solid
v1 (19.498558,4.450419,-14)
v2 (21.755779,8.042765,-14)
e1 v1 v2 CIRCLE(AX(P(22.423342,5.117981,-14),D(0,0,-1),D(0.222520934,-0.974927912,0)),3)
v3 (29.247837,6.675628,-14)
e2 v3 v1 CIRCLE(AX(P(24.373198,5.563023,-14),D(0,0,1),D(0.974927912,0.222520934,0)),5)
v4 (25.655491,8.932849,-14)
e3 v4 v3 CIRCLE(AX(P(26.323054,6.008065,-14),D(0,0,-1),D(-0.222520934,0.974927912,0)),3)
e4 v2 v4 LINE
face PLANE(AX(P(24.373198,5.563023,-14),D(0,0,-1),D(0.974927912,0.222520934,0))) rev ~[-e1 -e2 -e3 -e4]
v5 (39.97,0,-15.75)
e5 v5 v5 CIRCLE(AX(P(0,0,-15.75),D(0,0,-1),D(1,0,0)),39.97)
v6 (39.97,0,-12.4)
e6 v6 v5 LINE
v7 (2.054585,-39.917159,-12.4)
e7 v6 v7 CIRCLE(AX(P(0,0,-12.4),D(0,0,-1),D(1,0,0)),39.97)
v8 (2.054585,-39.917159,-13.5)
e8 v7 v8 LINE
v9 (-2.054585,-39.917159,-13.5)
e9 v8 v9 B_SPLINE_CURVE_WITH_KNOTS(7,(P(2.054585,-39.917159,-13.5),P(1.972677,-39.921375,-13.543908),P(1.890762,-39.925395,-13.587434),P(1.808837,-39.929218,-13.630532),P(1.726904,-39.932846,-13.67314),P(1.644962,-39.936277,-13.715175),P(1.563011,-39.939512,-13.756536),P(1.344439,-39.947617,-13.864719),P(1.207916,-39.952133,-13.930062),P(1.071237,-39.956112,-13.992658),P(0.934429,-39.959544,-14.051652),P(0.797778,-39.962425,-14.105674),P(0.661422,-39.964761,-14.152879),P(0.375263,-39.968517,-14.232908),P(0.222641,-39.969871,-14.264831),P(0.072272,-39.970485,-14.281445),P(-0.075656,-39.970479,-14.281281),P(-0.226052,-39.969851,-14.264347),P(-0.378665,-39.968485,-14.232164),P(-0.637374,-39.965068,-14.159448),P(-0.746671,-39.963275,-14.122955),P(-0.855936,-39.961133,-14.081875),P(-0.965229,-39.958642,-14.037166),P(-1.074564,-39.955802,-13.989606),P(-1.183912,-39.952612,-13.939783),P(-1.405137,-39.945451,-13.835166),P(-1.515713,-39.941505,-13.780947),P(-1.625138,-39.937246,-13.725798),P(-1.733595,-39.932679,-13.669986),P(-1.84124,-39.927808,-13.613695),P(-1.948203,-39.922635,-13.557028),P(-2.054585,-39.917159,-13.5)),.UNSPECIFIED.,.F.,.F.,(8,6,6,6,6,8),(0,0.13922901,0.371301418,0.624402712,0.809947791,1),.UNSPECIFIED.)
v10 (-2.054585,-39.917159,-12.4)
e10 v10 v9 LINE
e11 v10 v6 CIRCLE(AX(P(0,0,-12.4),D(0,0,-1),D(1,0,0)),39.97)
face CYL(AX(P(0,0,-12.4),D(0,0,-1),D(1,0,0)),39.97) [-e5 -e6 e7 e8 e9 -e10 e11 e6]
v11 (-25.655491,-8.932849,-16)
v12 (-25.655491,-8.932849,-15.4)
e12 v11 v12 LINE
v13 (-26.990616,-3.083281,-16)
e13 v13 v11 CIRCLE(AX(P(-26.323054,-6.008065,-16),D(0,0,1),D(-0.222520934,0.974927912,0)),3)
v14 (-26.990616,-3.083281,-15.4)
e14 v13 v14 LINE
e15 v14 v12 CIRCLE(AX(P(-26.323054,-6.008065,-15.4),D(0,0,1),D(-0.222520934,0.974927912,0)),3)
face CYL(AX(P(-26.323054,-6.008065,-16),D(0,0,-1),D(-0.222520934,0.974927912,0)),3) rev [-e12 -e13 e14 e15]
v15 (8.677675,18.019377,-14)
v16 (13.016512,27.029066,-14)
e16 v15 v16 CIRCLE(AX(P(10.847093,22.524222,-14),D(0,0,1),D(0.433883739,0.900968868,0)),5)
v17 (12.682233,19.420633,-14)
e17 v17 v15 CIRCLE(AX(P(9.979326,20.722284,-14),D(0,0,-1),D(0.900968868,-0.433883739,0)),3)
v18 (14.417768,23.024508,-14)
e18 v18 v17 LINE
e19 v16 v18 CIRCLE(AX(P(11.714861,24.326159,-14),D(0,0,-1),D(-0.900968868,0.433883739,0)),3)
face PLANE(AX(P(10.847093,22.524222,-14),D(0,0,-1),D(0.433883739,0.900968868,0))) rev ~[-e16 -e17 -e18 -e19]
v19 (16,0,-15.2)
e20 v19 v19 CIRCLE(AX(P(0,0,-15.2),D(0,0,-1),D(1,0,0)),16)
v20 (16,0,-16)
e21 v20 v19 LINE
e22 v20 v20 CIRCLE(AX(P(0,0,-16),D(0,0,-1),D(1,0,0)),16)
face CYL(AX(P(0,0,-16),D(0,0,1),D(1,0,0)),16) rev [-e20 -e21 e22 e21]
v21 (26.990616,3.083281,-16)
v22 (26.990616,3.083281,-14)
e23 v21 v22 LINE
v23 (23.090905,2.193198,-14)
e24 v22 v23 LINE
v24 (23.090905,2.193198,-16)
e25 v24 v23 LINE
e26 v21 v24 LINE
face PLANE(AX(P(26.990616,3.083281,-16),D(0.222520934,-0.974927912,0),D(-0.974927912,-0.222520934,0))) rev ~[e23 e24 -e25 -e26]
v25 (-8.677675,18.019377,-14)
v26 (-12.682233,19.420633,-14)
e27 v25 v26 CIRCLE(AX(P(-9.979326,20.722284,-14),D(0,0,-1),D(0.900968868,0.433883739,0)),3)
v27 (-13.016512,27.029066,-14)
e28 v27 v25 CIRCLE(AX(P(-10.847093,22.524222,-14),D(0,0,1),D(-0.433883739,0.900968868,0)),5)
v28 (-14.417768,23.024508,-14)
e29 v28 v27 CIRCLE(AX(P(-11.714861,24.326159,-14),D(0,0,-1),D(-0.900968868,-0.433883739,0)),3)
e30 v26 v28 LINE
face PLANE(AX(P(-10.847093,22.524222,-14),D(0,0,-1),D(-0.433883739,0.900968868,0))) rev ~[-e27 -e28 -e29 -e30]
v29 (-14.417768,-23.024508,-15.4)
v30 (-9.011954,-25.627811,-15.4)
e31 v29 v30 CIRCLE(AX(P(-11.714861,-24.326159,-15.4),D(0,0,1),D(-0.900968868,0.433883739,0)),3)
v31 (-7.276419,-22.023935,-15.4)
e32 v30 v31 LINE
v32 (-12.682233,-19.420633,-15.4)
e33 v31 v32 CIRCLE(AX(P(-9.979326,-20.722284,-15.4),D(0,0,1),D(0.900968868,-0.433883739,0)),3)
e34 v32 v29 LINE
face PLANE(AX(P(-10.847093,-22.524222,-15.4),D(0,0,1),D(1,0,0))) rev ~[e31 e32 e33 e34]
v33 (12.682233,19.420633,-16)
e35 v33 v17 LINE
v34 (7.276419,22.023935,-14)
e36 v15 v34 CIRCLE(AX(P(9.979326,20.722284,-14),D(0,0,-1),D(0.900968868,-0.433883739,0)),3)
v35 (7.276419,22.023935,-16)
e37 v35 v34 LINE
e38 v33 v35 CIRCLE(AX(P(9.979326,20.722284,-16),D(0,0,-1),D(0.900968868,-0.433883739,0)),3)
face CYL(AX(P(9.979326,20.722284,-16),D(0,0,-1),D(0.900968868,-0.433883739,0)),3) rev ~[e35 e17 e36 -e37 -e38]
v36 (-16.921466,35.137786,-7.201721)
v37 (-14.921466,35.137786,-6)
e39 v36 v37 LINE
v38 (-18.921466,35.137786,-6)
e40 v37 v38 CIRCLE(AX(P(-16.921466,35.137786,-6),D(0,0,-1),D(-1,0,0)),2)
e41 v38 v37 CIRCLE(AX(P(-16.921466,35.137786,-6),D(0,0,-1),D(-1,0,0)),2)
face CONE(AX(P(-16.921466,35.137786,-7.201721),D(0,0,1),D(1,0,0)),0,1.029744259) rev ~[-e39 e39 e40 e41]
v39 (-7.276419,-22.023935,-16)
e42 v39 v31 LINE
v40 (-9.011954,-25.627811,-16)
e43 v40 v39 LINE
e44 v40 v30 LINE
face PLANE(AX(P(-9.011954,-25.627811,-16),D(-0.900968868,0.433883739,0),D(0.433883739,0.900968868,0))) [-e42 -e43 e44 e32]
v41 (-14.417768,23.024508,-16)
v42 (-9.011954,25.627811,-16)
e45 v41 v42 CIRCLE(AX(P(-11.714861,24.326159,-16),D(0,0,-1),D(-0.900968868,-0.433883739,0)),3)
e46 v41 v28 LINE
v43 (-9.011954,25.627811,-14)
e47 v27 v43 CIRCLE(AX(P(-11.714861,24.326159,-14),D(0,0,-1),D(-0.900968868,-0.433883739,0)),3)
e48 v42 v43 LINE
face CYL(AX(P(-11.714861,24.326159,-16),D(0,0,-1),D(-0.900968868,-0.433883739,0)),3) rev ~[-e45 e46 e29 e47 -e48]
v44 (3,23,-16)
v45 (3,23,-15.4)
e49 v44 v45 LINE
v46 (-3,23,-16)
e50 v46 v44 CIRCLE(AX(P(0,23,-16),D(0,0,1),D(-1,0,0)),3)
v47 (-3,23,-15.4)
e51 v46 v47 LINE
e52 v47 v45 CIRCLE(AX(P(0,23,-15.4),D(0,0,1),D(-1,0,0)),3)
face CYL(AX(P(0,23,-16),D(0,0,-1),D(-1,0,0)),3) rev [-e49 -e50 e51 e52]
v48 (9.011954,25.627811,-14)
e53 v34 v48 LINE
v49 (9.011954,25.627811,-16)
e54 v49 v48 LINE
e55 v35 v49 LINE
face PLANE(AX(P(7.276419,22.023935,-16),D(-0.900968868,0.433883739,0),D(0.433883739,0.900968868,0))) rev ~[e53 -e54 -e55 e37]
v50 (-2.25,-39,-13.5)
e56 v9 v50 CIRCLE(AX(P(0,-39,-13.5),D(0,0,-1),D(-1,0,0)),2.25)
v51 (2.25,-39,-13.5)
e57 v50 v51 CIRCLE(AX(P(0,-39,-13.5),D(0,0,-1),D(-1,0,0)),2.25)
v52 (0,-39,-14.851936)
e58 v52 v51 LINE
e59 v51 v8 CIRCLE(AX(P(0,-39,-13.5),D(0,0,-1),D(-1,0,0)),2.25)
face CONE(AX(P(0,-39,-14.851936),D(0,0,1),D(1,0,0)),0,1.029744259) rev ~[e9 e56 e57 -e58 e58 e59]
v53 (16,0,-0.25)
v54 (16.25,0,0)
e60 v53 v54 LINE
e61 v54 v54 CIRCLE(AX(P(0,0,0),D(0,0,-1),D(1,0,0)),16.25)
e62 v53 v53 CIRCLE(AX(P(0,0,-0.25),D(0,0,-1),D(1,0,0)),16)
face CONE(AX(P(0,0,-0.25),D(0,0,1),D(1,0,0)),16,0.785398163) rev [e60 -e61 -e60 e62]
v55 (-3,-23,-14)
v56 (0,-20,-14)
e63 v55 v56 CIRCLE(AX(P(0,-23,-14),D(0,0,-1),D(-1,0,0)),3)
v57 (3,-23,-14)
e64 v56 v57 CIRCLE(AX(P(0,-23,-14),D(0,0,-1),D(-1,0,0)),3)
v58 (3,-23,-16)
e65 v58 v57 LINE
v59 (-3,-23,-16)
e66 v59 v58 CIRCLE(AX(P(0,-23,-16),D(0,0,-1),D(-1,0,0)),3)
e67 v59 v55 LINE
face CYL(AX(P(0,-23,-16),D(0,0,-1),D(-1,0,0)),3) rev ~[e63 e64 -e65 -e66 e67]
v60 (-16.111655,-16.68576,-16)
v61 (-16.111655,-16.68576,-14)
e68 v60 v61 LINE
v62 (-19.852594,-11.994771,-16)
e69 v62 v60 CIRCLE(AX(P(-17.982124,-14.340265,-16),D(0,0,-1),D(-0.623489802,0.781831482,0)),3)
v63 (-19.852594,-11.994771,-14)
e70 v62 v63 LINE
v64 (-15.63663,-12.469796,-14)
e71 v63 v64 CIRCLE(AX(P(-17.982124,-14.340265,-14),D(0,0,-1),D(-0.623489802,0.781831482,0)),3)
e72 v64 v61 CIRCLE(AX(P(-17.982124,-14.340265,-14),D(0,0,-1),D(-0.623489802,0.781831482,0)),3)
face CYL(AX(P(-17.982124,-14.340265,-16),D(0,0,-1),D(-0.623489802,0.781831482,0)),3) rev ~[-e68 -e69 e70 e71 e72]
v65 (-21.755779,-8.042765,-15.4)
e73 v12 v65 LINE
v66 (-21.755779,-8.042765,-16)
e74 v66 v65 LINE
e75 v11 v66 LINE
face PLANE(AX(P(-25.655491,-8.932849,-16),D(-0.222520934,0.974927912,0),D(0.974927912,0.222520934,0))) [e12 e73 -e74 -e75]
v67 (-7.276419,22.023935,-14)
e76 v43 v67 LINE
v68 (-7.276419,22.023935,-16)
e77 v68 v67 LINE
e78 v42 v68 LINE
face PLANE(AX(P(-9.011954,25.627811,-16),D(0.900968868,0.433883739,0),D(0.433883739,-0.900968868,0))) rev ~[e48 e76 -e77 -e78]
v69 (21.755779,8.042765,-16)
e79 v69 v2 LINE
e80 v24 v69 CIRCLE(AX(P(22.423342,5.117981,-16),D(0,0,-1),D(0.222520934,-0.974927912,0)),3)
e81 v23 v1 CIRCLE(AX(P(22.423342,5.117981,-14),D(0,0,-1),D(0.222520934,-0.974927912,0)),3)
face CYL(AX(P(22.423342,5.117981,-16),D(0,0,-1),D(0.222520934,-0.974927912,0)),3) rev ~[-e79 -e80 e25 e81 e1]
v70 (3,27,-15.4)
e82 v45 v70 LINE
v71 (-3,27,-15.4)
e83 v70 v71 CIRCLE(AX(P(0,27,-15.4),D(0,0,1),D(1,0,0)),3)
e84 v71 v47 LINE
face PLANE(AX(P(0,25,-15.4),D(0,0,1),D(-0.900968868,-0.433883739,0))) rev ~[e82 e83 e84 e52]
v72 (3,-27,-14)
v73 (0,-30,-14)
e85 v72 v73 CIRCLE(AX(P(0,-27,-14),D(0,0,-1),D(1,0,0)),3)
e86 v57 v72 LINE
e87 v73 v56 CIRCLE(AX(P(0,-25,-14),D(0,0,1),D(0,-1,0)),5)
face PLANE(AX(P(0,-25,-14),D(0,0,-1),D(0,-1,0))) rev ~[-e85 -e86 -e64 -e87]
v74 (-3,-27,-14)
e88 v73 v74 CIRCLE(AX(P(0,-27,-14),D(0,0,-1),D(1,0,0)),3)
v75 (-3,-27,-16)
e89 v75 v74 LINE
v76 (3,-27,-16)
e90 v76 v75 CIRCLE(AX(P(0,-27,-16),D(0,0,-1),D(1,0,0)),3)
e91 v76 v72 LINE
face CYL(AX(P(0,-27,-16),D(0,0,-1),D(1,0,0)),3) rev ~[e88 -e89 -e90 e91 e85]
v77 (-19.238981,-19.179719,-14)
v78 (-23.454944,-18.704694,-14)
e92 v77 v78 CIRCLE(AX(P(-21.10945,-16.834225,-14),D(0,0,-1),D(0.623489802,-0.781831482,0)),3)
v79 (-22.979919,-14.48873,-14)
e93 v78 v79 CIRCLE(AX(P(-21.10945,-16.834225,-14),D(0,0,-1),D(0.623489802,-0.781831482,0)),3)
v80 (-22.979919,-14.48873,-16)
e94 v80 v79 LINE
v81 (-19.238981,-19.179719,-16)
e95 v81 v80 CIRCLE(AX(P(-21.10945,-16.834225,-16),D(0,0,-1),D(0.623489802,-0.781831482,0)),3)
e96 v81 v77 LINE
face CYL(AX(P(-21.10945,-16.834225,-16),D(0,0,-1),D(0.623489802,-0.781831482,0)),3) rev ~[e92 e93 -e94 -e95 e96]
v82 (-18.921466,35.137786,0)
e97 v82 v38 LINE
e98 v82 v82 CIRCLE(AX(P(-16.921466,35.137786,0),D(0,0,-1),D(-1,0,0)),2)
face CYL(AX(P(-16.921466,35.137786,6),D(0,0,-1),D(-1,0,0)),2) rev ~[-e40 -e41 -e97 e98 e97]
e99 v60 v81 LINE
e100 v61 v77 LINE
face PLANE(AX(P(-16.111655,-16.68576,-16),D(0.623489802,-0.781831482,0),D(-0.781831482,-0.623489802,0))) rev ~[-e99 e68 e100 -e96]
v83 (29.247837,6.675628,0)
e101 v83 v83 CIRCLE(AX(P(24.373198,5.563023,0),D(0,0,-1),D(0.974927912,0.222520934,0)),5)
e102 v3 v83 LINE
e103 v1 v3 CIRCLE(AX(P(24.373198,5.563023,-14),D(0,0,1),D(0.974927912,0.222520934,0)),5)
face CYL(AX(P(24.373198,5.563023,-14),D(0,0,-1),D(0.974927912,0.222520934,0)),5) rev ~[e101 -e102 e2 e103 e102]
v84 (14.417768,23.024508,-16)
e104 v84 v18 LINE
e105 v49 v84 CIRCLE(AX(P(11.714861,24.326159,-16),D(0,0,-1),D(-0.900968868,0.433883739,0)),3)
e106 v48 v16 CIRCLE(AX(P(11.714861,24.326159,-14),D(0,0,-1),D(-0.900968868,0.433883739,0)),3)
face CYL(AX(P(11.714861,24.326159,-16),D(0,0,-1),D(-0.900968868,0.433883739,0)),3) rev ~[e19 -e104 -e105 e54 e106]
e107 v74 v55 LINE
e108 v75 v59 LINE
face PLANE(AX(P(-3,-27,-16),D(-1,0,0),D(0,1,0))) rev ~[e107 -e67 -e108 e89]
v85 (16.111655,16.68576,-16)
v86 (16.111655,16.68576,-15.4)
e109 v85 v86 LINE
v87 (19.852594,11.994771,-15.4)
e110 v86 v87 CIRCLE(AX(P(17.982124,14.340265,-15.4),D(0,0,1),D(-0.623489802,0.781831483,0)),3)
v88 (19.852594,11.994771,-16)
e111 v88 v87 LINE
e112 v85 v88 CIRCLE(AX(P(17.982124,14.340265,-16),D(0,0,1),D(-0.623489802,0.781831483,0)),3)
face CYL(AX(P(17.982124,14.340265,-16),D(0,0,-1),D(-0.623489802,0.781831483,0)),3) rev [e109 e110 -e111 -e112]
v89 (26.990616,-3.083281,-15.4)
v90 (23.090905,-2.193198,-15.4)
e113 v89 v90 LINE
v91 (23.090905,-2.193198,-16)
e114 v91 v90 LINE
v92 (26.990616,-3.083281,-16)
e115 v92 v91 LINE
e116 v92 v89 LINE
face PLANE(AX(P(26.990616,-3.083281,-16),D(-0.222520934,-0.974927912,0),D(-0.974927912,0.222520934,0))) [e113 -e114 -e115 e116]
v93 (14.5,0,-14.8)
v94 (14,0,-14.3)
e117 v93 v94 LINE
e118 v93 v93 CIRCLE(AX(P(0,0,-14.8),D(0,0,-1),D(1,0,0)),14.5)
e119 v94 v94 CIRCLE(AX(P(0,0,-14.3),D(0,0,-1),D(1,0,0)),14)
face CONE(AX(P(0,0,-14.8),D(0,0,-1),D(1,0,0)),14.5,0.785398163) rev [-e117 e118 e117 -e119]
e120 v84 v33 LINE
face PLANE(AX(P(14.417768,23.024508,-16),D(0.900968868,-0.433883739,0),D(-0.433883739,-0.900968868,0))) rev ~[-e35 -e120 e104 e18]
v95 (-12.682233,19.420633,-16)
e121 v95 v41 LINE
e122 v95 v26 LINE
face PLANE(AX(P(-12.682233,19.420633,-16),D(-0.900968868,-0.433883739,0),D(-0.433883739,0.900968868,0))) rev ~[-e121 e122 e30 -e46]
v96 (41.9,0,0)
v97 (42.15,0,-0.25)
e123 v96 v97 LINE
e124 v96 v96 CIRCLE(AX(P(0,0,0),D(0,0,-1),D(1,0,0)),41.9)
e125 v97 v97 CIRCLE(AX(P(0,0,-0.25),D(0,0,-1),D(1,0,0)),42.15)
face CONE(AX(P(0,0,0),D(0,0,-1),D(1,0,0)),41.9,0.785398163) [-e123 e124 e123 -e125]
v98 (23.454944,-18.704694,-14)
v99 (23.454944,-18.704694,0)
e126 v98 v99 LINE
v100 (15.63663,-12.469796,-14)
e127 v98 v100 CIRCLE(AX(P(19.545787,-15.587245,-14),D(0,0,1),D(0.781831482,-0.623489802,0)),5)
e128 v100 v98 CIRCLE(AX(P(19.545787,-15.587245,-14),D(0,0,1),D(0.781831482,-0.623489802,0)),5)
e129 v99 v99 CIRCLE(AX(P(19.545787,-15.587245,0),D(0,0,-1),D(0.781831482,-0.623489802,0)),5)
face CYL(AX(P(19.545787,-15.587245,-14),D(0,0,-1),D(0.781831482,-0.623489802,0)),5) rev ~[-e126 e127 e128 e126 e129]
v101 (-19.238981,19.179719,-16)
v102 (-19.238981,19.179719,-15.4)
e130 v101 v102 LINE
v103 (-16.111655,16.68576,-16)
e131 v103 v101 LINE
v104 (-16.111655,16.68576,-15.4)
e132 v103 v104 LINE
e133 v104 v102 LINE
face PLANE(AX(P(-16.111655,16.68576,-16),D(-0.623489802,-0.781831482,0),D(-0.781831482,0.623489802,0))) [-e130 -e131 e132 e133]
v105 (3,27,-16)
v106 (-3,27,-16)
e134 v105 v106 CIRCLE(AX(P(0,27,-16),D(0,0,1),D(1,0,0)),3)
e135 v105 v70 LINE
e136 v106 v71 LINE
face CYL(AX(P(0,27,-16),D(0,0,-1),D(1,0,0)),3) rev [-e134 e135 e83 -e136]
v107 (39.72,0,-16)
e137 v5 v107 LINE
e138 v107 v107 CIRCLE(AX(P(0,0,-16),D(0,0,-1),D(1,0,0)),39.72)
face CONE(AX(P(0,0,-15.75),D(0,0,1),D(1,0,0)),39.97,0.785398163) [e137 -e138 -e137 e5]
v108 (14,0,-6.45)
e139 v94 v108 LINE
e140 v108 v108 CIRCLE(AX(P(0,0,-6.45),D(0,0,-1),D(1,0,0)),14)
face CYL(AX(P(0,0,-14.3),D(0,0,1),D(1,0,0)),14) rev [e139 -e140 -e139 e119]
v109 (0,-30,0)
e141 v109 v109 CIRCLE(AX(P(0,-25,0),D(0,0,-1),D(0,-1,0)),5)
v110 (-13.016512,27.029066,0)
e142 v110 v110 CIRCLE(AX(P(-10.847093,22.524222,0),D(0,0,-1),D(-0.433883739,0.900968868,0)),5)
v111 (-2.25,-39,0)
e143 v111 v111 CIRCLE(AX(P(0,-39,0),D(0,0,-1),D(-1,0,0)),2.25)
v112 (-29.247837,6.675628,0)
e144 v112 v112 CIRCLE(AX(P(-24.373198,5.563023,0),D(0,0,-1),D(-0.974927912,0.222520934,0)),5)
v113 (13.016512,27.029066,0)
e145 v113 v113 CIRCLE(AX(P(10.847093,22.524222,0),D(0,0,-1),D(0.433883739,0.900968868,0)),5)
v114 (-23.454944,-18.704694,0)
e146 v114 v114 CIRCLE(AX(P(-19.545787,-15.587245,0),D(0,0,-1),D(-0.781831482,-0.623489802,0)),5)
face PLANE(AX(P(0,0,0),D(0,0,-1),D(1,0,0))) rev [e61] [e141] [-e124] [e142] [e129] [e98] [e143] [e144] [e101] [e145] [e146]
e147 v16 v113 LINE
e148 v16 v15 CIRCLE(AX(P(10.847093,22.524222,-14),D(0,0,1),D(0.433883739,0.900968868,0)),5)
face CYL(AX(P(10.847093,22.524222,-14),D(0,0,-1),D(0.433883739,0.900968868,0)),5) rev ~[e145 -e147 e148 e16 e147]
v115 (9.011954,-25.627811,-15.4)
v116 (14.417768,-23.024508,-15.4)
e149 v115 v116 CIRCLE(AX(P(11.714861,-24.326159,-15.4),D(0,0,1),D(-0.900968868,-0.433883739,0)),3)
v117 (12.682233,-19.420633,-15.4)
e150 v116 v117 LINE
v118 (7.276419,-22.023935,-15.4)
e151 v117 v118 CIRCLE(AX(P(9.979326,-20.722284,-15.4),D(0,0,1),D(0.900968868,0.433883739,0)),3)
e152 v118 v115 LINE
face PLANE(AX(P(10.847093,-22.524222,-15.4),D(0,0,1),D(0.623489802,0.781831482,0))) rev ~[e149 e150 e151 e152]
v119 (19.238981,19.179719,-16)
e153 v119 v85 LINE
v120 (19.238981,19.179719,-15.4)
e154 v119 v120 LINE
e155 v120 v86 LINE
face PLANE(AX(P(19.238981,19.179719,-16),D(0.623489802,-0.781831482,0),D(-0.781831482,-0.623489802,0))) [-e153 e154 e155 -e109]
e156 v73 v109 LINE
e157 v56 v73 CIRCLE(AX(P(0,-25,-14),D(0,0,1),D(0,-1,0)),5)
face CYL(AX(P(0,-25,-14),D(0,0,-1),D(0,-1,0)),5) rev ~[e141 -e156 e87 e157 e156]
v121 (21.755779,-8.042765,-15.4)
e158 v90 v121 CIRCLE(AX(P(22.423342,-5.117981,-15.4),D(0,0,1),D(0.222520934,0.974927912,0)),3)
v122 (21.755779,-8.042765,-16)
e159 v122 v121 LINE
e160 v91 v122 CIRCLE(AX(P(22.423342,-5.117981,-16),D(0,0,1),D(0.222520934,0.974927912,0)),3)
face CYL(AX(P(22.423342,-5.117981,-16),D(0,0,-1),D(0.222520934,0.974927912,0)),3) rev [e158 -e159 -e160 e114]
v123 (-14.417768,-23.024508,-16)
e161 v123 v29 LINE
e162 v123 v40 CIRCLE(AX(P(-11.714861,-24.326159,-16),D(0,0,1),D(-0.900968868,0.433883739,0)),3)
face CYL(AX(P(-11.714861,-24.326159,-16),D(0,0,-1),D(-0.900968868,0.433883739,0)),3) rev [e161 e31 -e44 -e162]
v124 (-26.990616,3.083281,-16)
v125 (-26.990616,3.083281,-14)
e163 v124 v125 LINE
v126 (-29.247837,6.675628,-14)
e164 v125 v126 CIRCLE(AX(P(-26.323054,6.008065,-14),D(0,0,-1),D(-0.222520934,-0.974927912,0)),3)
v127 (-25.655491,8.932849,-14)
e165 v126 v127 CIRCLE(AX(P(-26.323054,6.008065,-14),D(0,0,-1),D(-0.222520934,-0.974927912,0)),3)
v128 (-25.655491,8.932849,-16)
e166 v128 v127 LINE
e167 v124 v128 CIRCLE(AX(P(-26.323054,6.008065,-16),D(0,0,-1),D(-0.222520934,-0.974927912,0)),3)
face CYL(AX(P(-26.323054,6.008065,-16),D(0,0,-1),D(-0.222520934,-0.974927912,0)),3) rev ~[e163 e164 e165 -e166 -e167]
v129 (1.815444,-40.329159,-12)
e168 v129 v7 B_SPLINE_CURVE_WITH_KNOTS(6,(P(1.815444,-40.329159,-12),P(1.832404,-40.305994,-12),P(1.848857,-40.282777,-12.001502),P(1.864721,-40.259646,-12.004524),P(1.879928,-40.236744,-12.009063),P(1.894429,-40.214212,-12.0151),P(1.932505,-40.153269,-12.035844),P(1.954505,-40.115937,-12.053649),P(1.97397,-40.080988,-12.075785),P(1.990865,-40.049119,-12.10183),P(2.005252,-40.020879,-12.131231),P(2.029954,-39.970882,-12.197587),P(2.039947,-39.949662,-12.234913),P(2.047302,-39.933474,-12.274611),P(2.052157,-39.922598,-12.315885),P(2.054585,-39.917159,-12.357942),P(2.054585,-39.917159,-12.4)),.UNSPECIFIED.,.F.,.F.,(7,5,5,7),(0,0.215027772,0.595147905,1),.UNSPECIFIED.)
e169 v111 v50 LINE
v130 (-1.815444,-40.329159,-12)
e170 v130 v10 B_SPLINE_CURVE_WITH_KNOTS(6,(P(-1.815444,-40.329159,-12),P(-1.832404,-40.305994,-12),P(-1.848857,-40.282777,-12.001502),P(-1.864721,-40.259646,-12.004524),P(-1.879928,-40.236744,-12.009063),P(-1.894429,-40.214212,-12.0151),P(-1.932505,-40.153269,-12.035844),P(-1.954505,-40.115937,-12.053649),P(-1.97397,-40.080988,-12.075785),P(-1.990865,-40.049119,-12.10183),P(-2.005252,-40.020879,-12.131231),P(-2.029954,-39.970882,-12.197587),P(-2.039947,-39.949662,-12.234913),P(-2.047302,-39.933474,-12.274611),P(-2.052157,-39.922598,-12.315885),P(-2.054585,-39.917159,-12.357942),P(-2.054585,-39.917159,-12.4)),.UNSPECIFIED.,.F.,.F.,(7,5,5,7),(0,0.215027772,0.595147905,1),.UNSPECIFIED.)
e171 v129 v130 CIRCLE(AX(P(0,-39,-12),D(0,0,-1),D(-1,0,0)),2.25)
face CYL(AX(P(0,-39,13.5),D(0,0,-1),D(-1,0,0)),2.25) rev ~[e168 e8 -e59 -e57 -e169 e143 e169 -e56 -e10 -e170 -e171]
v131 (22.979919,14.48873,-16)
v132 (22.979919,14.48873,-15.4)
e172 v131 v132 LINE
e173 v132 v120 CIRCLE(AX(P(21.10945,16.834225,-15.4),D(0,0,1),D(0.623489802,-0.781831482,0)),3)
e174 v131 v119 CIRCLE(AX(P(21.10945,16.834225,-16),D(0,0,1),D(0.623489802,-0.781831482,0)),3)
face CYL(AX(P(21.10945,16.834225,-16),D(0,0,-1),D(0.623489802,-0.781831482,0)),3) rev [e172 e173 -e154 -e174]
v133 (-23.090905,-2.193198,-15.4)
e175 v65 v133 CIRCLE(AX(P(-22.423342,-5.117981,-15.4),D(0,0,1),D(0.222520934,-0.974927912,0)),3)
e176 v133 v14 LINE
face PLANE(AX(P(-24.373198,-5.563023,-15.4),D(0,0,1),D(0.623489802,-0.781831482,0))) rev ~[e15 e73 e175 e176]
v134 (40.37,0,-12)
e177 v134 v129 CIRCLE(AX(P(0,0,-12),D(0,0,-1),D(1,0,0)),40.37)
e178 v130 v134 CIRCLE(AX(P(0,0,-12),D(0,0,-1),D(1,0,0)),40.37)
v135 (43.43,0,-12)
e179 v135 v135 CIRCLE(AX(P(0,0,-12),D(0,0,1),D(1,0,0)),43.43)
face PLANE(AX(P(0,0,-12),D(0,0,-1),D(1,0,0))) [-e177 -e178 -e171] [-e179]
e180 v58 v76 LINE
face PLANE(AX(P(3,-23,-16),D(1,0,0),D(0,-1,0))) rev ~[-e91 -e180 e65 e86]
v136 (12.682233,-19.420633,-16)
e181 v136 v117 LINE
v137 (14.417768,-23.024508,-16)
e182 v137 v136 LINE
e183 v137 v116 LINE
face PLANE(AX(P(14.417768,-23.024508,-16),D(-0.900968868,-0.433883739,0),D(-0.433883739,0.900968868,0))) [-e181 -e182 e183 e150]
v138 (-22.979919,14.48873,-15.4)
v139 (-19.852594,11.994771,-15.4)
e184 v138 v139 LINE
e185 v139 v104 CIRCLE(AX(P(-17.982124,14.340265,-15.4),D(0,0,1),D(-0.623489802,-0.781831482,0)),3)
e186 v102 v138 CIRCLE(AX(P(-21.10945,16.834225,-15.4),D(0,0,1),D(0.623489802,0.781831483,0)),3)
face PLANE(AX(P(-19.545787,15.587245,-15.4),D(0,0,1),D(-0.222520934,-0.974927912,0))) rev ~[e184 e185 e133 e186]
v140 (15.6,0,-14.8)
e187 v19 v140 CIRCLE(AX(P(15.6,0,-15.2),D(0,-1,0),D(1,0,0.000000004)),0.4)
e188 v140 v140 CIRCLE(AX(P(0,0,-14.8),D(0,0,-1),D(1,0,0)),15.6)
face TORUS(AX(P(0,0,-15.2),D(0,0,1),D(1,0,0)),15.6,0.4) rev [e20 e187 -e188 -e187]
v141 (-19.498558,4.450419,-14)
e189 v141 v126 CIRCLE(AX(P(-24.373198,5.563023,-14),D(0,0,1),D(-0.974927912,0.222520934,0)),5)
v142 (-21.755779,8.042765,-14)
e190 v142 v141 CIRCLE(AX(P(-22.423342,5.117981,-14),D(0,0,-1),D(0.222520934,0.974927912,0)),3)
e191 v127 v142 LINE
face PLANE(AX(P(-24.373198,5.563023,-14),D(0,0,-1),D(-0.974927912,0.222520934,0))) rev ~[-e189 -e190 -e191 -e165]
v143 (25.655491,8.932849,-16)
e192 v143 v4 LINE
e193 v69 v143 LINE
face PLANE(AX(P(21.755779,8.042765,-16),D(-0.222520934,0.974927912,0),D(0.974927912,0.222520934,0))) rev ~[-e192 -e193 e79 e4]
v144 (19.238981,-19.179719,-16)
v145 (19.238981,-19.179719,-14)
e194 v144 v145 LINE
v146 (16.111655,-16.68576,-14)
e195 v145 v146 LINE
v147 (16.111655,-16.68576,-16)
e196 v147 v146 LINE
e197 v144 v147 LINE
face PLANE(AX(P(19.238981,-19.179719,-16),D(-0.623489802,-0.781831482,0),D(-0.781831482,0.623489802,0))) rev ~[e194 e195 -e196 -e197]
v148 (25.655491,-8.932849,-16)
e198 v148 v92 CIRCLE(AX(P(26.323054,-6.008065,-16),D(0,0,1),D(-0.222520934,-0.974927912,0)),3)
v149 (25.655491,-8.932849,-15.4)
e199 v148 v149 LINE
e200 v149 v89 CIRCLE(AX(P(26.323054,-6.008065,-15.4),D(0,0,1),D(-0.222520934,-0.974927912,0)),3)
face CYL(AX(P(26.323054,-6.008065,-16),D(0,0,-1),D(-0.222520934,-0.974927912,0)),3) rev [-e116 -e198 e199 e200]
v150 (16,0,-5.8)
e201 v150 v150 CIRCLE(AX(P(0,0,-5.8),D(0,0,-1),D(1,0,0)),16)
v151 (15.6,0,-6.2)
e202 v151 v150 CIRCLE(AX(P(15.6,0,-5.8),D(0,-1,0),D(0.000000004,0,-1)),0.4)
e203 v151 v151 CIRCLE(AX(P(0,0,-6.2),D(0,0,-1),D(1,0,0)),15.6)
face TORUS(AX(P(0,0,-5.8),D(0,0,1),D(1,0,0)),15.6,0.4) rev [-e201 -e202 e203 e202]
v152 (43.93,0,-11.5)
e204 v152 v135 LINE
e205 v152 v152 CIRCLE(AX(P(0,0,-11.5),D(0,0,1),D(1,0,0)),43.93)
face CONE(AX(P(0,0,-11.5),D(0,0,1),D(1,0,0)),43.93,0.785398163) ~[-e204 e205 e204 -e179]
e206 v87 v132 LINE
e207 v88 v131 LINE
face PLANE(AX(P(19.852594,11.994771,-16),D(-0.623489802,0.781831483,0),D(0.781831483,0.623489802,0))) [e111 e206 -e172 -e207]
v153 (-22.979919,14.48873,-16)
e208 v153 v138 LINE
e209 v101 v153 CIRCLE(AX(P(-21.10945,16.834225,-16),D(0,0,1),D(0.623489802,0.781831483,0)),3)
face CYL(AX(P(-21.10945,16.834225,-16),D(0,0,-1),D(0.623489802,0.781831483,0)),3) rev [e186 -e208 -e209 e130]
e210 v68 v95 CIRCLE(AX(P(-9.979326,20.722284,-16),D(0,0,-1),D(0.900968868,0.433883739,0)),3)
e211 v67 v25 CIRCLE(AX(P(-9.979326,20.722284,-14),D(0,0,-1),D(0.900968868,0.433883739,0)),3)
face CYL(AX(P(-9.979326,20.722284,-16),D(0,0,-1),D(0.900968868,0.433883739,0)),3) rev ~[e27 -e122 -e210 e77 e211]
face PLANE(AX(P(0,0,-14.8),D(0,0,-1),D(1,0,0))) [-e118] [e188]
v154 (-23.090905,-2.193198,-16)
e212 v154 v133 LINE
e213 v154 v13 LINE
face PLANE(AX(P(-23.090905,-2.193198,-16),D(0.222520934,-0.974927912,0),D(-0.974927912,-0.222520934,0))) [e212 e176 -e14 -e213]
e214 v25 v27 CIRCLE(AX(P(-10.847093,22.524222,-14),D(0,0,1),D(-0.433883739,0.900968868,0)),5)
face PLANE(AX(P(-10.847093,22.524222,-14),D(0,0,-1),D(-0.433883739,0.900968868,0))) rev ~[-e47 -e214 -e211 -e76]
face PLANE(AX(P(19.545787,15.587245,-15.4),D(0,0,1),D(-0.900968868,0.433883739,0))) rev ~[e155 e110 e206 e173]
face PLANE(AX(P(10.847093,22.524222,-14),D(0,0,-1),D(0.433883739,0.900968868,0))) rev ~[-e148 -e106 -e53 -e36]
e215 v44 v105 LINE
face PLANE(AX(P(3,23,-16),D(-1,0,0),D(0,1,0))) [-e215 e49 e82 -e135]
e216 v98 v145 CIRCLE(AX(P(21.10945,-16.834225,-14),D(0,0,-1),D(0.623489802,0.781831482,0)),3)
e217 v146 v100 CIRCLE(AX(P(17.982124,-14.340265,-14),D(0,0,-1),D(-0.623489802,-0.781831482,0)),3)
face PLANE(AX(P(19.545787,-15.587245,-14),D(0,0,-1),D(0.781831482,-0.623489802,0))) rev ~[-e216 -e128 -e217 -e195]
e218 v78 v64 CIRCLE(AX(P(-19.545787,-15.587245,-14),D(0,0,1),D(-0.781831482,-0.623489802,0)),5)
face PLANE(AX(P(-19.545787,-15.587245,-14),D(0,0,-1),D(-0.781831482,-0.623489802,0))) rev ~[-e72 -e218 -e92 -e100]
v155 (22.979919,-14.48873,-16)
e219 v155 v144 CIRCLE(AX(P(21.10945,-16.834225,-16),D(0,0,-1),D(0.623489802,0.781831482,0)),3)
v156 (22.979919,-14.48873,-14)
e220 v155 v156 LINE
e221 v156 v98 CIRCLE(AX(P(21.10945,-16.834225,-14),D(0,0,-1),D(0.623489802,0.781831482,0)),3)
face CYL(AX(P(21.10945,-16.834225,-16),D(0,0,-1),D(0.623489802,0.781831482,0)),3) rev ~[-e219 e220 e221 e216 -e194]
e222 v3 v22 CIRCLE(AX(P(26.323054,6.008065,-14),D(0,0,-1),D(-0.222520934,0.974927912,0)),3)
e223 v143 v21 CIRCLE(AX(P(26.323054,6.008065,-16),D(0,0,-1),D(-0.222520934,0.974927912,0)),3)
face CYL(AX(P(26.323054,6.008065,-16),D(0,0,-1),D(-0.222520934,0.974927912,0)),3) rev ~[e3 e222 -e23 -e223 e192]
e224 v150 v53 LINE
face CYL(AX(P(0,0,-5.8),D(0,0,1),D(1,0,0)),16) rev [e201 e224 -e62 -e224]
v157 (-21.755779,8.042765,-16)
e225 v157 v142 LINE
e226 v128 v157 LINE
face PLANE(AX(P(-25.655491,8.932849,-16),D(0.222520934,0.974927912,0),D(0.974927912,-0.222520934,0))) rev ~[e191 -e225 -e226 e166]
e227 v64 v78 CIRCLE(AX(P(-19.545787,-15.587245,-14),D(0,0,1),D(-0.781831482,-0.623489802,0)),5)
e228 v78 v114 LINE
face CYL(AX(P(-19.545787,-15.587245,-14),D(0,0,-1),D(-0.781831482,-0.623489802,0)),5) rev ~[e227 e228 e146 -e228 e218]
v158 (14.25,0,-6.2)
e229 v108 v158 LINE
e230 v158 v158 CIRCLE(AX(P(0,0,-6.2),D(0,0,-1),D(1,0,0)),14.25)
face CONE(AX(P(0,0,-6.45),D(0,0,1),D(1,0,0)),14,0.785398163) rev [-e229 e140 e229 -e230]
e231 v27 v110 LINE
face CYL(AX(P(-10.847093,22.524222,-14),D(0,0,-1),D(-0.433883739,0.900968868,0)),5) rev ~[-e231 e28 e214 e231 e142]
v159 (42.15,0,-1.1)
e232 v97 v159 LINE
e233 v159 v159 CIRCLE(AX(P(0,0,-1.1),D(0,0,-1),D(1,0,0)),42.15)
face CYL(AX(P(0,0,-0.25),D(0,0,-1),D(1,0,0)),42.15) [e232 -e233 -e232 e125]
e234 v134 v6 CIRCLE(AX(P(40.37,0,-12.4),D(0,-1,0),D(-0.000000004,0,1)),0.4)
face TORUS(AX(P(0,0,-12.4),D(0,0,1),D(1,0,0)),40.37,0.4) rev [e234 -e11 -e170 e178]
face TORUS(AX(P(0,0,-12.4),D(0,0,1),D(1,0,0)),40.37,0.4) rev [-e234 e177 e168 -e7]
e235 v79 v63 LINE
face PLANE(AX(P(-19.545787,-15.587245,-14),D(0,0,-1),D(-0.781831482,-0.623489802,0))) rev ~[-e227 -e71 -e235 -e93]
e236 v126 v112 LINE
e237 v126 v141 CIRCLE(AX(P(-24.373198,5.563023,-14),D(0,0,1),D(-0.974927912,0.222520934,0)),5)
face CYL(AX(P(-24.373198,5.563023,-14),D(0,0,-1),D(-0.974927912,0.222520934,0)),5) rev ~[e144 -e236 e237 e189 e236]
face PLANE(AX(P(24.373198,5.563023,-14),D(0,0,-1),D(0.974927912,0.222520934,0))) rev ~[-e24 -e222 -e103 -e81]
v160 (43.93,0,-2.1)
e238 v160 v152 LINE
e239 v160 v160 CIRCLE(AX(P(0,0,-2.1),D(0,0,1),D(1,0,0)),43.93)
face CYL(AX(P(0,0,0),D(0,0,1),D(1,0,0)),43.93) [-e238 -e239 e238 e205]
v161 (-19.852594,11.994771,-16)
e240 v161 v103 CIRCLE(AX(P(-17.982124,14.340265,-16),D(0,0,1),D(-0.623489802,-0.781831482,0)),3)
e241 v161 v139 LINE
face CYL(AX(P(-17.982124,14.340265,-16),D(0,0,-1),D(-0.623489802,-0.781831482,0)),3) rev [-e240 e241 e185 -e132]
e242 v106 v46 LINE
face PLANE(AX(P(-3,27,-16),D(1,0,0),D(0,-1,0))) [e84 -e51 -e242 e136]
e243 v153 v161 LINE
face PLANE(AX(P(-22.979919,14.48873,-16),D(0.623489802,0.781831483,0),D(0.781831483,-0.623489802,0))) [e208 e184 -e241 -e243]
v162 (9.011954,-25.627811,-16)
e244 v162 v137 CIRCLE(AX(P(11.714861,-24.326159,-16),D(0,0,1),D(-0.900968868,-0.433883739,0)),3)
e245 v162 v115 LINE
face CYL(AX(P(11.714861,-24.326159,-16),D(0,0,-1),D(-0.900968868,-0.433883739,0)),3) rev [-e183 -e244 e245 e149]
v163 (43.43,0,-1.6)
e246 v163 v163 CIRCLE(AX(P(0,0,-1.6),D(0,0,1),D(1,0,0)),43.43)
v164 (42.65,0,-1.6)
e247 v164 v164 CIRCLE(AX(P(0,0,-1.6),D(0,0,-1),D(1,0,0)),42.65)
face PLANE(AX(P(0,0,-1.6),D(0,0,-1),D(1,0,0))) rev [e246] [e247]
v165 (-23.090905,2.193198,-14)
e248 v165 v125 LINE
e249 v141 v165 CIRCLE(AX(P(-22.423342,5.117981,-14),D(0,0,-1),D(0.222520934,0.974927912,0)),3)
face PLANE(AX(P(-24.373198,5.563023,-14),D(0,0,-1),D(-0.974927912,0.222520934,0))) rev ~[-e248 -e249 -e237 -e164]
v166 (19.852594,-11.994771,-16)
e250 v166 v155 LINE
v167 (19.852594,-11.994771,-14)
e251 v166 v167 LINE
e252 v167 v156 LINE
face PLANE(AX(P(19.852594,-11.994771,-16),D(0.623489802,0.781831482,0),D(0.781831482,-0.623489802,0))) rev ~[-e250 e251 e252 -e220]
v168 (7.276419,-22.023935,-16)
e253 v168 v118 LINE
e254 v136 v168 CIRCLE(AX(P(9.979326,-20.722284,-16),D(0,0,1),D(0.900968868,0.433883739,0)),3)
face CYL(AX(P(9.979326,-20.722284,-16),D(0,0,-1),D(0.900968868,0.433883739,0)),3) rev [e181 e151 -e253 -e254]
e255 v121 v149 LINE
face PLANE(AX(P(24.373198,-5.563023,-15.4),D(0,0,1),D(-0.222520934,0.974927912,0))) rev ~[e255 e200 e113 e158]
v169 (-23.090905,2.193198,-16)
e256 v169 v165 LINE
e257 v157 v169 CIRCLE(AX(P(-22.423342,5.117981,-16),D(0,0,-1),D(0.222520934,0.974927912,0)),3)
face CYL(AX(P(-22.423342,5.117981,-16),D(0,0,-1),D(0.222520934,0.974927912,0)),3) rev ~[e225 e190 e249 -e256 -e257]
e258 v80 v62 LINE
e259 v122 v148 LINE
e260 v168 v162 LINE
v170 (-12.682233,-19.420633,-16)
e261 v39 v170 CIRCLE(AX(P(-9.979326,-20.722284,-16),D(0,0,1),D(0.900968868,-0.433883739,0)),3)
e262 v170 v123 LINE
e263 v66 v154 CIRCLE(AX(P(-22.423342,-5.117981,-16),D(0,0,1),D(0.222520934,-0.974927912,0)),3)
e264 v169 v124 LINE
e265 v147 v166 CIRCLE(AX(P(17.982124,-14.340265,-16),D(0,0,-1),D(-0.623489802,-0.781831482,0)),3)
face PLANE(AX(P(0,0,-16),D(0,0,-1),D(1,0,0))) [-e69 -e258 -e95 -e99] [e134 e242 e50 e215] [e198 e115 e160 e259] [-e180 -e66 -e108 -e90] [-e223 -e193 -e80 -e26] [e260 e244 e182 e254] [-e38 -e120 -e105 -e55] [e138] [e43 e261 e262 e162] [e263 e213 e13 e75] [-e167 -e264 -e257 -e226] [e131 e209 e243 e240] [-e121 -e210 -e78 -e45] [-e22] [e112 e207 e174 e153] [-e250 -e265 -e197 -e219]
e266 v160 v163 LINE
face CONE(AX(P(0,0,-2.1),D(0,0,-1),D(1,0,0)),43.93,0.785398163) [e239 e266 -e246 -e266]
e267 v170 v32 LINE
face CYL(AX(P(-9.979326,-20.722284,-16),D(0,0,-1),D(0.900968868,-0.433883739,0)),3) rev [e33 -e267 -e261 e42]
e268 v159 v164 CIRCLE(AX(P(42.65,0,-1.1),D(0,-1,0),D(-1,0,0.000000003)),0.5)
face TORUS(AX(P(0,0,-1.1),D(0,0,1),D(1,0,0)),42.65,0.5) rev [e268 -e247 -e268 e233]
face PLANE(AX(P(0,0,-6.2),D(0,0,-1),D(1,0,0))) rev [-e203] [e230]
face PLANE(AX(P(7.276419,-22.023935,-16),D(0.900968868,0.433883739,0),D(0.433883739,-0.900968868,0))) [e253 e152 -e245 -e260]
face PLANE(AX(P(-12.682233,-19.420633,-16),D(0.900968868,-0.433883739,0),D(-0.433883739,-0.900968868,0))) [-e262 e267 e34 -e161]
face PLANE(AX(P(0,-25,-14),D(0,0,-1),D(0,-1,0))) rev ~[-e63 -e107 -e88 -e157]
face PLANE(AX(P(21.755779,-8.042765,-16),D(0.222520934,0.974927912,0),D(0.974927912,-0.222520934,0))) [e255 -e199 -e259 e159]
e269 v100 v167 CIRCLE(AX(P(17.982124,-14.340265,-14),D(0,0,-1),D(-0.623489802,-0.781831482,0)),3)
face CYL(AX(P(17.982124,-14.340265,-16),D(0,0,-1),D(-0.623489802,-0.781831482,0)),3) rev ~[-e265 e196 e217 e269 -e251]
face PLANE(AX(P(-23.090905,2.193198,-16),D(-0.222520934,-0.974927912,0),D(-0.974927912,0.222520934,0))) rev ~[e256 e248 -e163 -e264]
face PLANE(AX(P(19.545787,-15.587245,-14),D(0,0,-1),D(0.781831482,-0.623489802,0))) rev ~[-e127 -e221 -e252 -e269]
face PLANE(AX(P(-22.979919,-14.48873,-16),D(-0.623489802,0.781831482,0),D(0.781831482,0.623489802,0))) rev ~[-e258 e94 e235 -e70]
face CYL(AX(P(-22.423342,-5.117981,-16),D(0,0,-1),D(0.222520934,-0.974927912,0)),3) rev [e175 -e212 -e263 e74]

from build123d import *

# Parameters (mm, degrees)
SKETCH1_R                      = 43.93
SKETCH1_R_2                    = 14
EXTRUDE1_DEPTH                 = 16
EXTRUDE7_DEPTH                 = 2
CUT_EXTRUDE5_DEPTH             = 0.6
CIRPATTERN3_COUNT              = 7
EXTRUDE8_REACH                 = 65.684
SKETCH10_R                     = 5
CIRPATTERN2_COUNT              = 7
F_4_0_4_DIAMETER_HOLE1_D       = 4
F_4_0_4_DIAMETER_HOLE1_DEPTH   = 6
F_4_0_4_DIAMETER_HOLE1_TIP     = 1.201721238
F_4_5_4_5_DIAMETER_HOLE2_D     = 4.5
F_4_5_4_5_DIAMETER_HOLE2_DEPTH = 13.5
F_4_5_4_5_DIAMETER_HOLE2_TIP   = 1.351936393
CHAMFER1_SIZE                  = 0.5


with BuildPart() as part:
    # Sketch1 → Extrude1 (new body)
    with BuildSketch(Plane.XY):
        Circle(SKETCH1_R)
        Circle(SKETCH1_R_2, mode=Mode.SUBTRACT)
    extrude(amount=-EXTRUDE1_DEPTH)

    # Sketch13 → Cut-Revolve1 (revolve, cut)
    with BuildSketch(Plane(origin=(0, 0, 0), x_dir=(0, 0, -1), z_dir=(1, 0, 0)), mode=Mode.PRIVATE) as cut_revolve1_sk:
        with BuildLine():
            Line((5.8, 16), (0.25, 16))
            Line((0.25, 16), (0, 16.25))
            Line((0, 16.25), (0, 41.9))
            Line((0, 41.9), (0.25, 42.15))
            Line((0.25, 42.15), (1.1, 42.15))
            ThreePointArc((1.1, 42.15), (1.453553391, 42.296446609), (1.6, 42.65))
            Line((1.6, 42.65), (1.6, 50.047434563))
            Line((1.6, 50.047434563), (-4.843089059, 50.047434563))
            Line((-4.843089059, 50.047434563), (-4.843089059, 0))
            Line((-4.843089059, 0), (0, 0))
            Line((0, 0), (19.04869502, 0))
            Line((19.04869502, 0), (19.04869502, 50.047434563))
            Line((19.04869502, 50.047434563), (12, 50.047434563))
            Line((12, 50.047434563), (12, 40.37))
            ThreePointArc((12, 40.37), (12.117157288, 40.087157288), (12.4, 39.97))
            Line((12.4, 39.97), (15.75, 39.97))
            Line((15.75, 39.97), (16, 39.72))
            Line((16, 39.72), (16, 16))
            Line((16, 16), (15.2, 16))
            ThreePointArc((15.2, 16), (14.917157288, 15.882842712), (14.8, 15.6))
            Line((14.8, 15.6), (14.8, 14.5))
            Line((14.8, 14.5), (14.3, 14))
            Line((14.3, 14), (6.45, 14))
            Line((6.45, 14), (6.2, 14.25))
            Line((6.2, 14.25), (6.2, 15.6))
            ThreePointArc((6.2, 15.6), (6.082842712, 15.882842712), (5.8, 16))
        make_face()
    revolve(cut_revolve1_sk.sketch.rotate(Axis((0, 0, 0), (0, 0, -1)), 90), axis=Axis((0, 0, 0), (0, 0, -1)), mode=Mode.SUBTRACT)

    # Sketch9 → Extrude7 (cut)
    with BuildSketch(Plane(origin=(0, 0, -16), x_dir=(-1, 0, 0), z_dir=(0, 0, -1))):
        with BuildLine():
            Line((-3, -23), (-3, -27))
            ThreePointArc((-3, -27), (0, -30), (3, -27))
            Line((3, -27), (3, -23))
            ThreePointArc((3, -23), (0, -20), (-3, -23))
        make_face()
    extrude7 = extrude(amount=-EXTRUDE7_DEPTH, mode=Mode.SUBTRACT)

    # Sketch18 → Cut-Extrude5 (cut)
    with BuildSketch(Plane(origin=(0, 0, -16), x_dir=(-1, 0, 0), z_dir=(0, 0, -1))):
        with BuildLine():
            Line((12.682232603, -19.420632744), (14.41776756, -23.024508216))
            ThreePointArc((14.41776756, -23.024508216), (13.016512174, -27.029066037), (9.011954352, -25.627810651))
            Line((9.011954352, -25.627810651), (7.276419396, -22.023935179))
            ThreePointArc((7.276419396, -22.023935179), (8.677674782, -18.019377358), (12.682232603, -19.420632744))
        make_face()
    cut_extrude5 = extrude(amount=-CUT_EXTRUDE5_DEPTH, mode=Mode.SUBTRACT)

    # CirPattern3: Cut-Extrude5 ×7 about axis
    cirpattern3_axis = Axis((0, 0, 0), (0, 0, 1))
    for i in range(1, CIRPATTERN3_COUNT):
        add(cut_extrude5.rotate(cirpattern3_axis, i * 360 / CIRPATTERN3_COUNT), mode=Mode.SUBTRACT)

    # Sketch10 → Extrude8 (cut, up to next)
    with BuildSketch(Plane(origin=(0, 0, -14), x_dir=(-1, 0, 0), z_dir=(0, 0, -1)), mode=Mode.PRIVATE) as extrude8_sk1:
        with Locations(Location((0, -25, 0), (0, 0, 270))):
            Circle(SKETCH10_R)
    extrude8_tool1 = extrude(extrude8_sk1.sketch, amount=-EXTRUDE8_REACH, mode=Mode.PRIVATE) & part.part
    extrude8 = extrude8_tool1.solids().sort_by_distance((0, -25, -14))[0]
    add(extrude8, mode=Mode.SUBTRACT)

    # CirPattern2: Extrude7, Extrude8 ×7 about axis
    cirpattern2_axis = Axis((0, 0, 0), (0, 0, 1))
    add([extrude7.rotate(cirpattern2_axis, i * 360 / CIRPATTERN2_COUNT) for i in range(1, CIRPATTERN2_COUNT)], mode=Mode.SUBTRACT)
    add([extrude8.rotate(cirpattern2_axis, i * 360 / CIRPATTERN2_COUNT) for i in range(1, CIRPATTERN2_COUNT)], mode=Mode.SUBTRACT)

    # Ø4.0 (4) Diameter Hole1
    with Locations(Plane.XY):
        with Locations((-16.921465826, 35.137785848)):
            Hole(F_4_0_4_DIAMETER_HOLE1_D / 2, depth=F_4_0_4_DIAMETER_HOLE1_DEPTH)
            with Locations((0, 0, -(F_4_0_4_DIAMETER_HOLE1_DEPTH + F_4_0_4_DIAMETER_HOLE1_TIP / 2))):  # 118° drill point
                Cone(0, F_4_0_4_DIAMETER_HOLE1_D / 2, F_4_0_4_DIAMETER_HOLE1_TIP, mode=Mode.SUBTRACT)

    # Ø4.5 (4.5) Diameter Hole2
    with Locations(Plane.XY):
        with Locations((0, -39)):
            Hole(F_4_5_4_5_DIAMETER_HOLE2_D / 2, depth=F_4_5_4_5_DIAMETER_HOLE2_DEPTH)
            with Locations((0, 0, -(F_4_5_4_5_DIAMETER_HOLE2_DEPTH + F_4_5_4_5_DIAMETER_HOLE2_TIP / 2))):  # 118° drill point
                Cone(0, F_4_5_4_5_DIAMETER_HOLE2_D / 2, F_4_5_4_5_DIAMETER_HOLE2_TIP, mode=Mode.SUBTRACT)

    # Chamfer1
    chamfer1_edges = [part.edges().sort_by_distance(p)[0] for p in [
        (-43.93, 0, -12),
        (-43.93, 0, -1.6),
    ]]
    chamfer(chamfer1_edges, length=CHAMFER1_SIZE)


solid = part.part
